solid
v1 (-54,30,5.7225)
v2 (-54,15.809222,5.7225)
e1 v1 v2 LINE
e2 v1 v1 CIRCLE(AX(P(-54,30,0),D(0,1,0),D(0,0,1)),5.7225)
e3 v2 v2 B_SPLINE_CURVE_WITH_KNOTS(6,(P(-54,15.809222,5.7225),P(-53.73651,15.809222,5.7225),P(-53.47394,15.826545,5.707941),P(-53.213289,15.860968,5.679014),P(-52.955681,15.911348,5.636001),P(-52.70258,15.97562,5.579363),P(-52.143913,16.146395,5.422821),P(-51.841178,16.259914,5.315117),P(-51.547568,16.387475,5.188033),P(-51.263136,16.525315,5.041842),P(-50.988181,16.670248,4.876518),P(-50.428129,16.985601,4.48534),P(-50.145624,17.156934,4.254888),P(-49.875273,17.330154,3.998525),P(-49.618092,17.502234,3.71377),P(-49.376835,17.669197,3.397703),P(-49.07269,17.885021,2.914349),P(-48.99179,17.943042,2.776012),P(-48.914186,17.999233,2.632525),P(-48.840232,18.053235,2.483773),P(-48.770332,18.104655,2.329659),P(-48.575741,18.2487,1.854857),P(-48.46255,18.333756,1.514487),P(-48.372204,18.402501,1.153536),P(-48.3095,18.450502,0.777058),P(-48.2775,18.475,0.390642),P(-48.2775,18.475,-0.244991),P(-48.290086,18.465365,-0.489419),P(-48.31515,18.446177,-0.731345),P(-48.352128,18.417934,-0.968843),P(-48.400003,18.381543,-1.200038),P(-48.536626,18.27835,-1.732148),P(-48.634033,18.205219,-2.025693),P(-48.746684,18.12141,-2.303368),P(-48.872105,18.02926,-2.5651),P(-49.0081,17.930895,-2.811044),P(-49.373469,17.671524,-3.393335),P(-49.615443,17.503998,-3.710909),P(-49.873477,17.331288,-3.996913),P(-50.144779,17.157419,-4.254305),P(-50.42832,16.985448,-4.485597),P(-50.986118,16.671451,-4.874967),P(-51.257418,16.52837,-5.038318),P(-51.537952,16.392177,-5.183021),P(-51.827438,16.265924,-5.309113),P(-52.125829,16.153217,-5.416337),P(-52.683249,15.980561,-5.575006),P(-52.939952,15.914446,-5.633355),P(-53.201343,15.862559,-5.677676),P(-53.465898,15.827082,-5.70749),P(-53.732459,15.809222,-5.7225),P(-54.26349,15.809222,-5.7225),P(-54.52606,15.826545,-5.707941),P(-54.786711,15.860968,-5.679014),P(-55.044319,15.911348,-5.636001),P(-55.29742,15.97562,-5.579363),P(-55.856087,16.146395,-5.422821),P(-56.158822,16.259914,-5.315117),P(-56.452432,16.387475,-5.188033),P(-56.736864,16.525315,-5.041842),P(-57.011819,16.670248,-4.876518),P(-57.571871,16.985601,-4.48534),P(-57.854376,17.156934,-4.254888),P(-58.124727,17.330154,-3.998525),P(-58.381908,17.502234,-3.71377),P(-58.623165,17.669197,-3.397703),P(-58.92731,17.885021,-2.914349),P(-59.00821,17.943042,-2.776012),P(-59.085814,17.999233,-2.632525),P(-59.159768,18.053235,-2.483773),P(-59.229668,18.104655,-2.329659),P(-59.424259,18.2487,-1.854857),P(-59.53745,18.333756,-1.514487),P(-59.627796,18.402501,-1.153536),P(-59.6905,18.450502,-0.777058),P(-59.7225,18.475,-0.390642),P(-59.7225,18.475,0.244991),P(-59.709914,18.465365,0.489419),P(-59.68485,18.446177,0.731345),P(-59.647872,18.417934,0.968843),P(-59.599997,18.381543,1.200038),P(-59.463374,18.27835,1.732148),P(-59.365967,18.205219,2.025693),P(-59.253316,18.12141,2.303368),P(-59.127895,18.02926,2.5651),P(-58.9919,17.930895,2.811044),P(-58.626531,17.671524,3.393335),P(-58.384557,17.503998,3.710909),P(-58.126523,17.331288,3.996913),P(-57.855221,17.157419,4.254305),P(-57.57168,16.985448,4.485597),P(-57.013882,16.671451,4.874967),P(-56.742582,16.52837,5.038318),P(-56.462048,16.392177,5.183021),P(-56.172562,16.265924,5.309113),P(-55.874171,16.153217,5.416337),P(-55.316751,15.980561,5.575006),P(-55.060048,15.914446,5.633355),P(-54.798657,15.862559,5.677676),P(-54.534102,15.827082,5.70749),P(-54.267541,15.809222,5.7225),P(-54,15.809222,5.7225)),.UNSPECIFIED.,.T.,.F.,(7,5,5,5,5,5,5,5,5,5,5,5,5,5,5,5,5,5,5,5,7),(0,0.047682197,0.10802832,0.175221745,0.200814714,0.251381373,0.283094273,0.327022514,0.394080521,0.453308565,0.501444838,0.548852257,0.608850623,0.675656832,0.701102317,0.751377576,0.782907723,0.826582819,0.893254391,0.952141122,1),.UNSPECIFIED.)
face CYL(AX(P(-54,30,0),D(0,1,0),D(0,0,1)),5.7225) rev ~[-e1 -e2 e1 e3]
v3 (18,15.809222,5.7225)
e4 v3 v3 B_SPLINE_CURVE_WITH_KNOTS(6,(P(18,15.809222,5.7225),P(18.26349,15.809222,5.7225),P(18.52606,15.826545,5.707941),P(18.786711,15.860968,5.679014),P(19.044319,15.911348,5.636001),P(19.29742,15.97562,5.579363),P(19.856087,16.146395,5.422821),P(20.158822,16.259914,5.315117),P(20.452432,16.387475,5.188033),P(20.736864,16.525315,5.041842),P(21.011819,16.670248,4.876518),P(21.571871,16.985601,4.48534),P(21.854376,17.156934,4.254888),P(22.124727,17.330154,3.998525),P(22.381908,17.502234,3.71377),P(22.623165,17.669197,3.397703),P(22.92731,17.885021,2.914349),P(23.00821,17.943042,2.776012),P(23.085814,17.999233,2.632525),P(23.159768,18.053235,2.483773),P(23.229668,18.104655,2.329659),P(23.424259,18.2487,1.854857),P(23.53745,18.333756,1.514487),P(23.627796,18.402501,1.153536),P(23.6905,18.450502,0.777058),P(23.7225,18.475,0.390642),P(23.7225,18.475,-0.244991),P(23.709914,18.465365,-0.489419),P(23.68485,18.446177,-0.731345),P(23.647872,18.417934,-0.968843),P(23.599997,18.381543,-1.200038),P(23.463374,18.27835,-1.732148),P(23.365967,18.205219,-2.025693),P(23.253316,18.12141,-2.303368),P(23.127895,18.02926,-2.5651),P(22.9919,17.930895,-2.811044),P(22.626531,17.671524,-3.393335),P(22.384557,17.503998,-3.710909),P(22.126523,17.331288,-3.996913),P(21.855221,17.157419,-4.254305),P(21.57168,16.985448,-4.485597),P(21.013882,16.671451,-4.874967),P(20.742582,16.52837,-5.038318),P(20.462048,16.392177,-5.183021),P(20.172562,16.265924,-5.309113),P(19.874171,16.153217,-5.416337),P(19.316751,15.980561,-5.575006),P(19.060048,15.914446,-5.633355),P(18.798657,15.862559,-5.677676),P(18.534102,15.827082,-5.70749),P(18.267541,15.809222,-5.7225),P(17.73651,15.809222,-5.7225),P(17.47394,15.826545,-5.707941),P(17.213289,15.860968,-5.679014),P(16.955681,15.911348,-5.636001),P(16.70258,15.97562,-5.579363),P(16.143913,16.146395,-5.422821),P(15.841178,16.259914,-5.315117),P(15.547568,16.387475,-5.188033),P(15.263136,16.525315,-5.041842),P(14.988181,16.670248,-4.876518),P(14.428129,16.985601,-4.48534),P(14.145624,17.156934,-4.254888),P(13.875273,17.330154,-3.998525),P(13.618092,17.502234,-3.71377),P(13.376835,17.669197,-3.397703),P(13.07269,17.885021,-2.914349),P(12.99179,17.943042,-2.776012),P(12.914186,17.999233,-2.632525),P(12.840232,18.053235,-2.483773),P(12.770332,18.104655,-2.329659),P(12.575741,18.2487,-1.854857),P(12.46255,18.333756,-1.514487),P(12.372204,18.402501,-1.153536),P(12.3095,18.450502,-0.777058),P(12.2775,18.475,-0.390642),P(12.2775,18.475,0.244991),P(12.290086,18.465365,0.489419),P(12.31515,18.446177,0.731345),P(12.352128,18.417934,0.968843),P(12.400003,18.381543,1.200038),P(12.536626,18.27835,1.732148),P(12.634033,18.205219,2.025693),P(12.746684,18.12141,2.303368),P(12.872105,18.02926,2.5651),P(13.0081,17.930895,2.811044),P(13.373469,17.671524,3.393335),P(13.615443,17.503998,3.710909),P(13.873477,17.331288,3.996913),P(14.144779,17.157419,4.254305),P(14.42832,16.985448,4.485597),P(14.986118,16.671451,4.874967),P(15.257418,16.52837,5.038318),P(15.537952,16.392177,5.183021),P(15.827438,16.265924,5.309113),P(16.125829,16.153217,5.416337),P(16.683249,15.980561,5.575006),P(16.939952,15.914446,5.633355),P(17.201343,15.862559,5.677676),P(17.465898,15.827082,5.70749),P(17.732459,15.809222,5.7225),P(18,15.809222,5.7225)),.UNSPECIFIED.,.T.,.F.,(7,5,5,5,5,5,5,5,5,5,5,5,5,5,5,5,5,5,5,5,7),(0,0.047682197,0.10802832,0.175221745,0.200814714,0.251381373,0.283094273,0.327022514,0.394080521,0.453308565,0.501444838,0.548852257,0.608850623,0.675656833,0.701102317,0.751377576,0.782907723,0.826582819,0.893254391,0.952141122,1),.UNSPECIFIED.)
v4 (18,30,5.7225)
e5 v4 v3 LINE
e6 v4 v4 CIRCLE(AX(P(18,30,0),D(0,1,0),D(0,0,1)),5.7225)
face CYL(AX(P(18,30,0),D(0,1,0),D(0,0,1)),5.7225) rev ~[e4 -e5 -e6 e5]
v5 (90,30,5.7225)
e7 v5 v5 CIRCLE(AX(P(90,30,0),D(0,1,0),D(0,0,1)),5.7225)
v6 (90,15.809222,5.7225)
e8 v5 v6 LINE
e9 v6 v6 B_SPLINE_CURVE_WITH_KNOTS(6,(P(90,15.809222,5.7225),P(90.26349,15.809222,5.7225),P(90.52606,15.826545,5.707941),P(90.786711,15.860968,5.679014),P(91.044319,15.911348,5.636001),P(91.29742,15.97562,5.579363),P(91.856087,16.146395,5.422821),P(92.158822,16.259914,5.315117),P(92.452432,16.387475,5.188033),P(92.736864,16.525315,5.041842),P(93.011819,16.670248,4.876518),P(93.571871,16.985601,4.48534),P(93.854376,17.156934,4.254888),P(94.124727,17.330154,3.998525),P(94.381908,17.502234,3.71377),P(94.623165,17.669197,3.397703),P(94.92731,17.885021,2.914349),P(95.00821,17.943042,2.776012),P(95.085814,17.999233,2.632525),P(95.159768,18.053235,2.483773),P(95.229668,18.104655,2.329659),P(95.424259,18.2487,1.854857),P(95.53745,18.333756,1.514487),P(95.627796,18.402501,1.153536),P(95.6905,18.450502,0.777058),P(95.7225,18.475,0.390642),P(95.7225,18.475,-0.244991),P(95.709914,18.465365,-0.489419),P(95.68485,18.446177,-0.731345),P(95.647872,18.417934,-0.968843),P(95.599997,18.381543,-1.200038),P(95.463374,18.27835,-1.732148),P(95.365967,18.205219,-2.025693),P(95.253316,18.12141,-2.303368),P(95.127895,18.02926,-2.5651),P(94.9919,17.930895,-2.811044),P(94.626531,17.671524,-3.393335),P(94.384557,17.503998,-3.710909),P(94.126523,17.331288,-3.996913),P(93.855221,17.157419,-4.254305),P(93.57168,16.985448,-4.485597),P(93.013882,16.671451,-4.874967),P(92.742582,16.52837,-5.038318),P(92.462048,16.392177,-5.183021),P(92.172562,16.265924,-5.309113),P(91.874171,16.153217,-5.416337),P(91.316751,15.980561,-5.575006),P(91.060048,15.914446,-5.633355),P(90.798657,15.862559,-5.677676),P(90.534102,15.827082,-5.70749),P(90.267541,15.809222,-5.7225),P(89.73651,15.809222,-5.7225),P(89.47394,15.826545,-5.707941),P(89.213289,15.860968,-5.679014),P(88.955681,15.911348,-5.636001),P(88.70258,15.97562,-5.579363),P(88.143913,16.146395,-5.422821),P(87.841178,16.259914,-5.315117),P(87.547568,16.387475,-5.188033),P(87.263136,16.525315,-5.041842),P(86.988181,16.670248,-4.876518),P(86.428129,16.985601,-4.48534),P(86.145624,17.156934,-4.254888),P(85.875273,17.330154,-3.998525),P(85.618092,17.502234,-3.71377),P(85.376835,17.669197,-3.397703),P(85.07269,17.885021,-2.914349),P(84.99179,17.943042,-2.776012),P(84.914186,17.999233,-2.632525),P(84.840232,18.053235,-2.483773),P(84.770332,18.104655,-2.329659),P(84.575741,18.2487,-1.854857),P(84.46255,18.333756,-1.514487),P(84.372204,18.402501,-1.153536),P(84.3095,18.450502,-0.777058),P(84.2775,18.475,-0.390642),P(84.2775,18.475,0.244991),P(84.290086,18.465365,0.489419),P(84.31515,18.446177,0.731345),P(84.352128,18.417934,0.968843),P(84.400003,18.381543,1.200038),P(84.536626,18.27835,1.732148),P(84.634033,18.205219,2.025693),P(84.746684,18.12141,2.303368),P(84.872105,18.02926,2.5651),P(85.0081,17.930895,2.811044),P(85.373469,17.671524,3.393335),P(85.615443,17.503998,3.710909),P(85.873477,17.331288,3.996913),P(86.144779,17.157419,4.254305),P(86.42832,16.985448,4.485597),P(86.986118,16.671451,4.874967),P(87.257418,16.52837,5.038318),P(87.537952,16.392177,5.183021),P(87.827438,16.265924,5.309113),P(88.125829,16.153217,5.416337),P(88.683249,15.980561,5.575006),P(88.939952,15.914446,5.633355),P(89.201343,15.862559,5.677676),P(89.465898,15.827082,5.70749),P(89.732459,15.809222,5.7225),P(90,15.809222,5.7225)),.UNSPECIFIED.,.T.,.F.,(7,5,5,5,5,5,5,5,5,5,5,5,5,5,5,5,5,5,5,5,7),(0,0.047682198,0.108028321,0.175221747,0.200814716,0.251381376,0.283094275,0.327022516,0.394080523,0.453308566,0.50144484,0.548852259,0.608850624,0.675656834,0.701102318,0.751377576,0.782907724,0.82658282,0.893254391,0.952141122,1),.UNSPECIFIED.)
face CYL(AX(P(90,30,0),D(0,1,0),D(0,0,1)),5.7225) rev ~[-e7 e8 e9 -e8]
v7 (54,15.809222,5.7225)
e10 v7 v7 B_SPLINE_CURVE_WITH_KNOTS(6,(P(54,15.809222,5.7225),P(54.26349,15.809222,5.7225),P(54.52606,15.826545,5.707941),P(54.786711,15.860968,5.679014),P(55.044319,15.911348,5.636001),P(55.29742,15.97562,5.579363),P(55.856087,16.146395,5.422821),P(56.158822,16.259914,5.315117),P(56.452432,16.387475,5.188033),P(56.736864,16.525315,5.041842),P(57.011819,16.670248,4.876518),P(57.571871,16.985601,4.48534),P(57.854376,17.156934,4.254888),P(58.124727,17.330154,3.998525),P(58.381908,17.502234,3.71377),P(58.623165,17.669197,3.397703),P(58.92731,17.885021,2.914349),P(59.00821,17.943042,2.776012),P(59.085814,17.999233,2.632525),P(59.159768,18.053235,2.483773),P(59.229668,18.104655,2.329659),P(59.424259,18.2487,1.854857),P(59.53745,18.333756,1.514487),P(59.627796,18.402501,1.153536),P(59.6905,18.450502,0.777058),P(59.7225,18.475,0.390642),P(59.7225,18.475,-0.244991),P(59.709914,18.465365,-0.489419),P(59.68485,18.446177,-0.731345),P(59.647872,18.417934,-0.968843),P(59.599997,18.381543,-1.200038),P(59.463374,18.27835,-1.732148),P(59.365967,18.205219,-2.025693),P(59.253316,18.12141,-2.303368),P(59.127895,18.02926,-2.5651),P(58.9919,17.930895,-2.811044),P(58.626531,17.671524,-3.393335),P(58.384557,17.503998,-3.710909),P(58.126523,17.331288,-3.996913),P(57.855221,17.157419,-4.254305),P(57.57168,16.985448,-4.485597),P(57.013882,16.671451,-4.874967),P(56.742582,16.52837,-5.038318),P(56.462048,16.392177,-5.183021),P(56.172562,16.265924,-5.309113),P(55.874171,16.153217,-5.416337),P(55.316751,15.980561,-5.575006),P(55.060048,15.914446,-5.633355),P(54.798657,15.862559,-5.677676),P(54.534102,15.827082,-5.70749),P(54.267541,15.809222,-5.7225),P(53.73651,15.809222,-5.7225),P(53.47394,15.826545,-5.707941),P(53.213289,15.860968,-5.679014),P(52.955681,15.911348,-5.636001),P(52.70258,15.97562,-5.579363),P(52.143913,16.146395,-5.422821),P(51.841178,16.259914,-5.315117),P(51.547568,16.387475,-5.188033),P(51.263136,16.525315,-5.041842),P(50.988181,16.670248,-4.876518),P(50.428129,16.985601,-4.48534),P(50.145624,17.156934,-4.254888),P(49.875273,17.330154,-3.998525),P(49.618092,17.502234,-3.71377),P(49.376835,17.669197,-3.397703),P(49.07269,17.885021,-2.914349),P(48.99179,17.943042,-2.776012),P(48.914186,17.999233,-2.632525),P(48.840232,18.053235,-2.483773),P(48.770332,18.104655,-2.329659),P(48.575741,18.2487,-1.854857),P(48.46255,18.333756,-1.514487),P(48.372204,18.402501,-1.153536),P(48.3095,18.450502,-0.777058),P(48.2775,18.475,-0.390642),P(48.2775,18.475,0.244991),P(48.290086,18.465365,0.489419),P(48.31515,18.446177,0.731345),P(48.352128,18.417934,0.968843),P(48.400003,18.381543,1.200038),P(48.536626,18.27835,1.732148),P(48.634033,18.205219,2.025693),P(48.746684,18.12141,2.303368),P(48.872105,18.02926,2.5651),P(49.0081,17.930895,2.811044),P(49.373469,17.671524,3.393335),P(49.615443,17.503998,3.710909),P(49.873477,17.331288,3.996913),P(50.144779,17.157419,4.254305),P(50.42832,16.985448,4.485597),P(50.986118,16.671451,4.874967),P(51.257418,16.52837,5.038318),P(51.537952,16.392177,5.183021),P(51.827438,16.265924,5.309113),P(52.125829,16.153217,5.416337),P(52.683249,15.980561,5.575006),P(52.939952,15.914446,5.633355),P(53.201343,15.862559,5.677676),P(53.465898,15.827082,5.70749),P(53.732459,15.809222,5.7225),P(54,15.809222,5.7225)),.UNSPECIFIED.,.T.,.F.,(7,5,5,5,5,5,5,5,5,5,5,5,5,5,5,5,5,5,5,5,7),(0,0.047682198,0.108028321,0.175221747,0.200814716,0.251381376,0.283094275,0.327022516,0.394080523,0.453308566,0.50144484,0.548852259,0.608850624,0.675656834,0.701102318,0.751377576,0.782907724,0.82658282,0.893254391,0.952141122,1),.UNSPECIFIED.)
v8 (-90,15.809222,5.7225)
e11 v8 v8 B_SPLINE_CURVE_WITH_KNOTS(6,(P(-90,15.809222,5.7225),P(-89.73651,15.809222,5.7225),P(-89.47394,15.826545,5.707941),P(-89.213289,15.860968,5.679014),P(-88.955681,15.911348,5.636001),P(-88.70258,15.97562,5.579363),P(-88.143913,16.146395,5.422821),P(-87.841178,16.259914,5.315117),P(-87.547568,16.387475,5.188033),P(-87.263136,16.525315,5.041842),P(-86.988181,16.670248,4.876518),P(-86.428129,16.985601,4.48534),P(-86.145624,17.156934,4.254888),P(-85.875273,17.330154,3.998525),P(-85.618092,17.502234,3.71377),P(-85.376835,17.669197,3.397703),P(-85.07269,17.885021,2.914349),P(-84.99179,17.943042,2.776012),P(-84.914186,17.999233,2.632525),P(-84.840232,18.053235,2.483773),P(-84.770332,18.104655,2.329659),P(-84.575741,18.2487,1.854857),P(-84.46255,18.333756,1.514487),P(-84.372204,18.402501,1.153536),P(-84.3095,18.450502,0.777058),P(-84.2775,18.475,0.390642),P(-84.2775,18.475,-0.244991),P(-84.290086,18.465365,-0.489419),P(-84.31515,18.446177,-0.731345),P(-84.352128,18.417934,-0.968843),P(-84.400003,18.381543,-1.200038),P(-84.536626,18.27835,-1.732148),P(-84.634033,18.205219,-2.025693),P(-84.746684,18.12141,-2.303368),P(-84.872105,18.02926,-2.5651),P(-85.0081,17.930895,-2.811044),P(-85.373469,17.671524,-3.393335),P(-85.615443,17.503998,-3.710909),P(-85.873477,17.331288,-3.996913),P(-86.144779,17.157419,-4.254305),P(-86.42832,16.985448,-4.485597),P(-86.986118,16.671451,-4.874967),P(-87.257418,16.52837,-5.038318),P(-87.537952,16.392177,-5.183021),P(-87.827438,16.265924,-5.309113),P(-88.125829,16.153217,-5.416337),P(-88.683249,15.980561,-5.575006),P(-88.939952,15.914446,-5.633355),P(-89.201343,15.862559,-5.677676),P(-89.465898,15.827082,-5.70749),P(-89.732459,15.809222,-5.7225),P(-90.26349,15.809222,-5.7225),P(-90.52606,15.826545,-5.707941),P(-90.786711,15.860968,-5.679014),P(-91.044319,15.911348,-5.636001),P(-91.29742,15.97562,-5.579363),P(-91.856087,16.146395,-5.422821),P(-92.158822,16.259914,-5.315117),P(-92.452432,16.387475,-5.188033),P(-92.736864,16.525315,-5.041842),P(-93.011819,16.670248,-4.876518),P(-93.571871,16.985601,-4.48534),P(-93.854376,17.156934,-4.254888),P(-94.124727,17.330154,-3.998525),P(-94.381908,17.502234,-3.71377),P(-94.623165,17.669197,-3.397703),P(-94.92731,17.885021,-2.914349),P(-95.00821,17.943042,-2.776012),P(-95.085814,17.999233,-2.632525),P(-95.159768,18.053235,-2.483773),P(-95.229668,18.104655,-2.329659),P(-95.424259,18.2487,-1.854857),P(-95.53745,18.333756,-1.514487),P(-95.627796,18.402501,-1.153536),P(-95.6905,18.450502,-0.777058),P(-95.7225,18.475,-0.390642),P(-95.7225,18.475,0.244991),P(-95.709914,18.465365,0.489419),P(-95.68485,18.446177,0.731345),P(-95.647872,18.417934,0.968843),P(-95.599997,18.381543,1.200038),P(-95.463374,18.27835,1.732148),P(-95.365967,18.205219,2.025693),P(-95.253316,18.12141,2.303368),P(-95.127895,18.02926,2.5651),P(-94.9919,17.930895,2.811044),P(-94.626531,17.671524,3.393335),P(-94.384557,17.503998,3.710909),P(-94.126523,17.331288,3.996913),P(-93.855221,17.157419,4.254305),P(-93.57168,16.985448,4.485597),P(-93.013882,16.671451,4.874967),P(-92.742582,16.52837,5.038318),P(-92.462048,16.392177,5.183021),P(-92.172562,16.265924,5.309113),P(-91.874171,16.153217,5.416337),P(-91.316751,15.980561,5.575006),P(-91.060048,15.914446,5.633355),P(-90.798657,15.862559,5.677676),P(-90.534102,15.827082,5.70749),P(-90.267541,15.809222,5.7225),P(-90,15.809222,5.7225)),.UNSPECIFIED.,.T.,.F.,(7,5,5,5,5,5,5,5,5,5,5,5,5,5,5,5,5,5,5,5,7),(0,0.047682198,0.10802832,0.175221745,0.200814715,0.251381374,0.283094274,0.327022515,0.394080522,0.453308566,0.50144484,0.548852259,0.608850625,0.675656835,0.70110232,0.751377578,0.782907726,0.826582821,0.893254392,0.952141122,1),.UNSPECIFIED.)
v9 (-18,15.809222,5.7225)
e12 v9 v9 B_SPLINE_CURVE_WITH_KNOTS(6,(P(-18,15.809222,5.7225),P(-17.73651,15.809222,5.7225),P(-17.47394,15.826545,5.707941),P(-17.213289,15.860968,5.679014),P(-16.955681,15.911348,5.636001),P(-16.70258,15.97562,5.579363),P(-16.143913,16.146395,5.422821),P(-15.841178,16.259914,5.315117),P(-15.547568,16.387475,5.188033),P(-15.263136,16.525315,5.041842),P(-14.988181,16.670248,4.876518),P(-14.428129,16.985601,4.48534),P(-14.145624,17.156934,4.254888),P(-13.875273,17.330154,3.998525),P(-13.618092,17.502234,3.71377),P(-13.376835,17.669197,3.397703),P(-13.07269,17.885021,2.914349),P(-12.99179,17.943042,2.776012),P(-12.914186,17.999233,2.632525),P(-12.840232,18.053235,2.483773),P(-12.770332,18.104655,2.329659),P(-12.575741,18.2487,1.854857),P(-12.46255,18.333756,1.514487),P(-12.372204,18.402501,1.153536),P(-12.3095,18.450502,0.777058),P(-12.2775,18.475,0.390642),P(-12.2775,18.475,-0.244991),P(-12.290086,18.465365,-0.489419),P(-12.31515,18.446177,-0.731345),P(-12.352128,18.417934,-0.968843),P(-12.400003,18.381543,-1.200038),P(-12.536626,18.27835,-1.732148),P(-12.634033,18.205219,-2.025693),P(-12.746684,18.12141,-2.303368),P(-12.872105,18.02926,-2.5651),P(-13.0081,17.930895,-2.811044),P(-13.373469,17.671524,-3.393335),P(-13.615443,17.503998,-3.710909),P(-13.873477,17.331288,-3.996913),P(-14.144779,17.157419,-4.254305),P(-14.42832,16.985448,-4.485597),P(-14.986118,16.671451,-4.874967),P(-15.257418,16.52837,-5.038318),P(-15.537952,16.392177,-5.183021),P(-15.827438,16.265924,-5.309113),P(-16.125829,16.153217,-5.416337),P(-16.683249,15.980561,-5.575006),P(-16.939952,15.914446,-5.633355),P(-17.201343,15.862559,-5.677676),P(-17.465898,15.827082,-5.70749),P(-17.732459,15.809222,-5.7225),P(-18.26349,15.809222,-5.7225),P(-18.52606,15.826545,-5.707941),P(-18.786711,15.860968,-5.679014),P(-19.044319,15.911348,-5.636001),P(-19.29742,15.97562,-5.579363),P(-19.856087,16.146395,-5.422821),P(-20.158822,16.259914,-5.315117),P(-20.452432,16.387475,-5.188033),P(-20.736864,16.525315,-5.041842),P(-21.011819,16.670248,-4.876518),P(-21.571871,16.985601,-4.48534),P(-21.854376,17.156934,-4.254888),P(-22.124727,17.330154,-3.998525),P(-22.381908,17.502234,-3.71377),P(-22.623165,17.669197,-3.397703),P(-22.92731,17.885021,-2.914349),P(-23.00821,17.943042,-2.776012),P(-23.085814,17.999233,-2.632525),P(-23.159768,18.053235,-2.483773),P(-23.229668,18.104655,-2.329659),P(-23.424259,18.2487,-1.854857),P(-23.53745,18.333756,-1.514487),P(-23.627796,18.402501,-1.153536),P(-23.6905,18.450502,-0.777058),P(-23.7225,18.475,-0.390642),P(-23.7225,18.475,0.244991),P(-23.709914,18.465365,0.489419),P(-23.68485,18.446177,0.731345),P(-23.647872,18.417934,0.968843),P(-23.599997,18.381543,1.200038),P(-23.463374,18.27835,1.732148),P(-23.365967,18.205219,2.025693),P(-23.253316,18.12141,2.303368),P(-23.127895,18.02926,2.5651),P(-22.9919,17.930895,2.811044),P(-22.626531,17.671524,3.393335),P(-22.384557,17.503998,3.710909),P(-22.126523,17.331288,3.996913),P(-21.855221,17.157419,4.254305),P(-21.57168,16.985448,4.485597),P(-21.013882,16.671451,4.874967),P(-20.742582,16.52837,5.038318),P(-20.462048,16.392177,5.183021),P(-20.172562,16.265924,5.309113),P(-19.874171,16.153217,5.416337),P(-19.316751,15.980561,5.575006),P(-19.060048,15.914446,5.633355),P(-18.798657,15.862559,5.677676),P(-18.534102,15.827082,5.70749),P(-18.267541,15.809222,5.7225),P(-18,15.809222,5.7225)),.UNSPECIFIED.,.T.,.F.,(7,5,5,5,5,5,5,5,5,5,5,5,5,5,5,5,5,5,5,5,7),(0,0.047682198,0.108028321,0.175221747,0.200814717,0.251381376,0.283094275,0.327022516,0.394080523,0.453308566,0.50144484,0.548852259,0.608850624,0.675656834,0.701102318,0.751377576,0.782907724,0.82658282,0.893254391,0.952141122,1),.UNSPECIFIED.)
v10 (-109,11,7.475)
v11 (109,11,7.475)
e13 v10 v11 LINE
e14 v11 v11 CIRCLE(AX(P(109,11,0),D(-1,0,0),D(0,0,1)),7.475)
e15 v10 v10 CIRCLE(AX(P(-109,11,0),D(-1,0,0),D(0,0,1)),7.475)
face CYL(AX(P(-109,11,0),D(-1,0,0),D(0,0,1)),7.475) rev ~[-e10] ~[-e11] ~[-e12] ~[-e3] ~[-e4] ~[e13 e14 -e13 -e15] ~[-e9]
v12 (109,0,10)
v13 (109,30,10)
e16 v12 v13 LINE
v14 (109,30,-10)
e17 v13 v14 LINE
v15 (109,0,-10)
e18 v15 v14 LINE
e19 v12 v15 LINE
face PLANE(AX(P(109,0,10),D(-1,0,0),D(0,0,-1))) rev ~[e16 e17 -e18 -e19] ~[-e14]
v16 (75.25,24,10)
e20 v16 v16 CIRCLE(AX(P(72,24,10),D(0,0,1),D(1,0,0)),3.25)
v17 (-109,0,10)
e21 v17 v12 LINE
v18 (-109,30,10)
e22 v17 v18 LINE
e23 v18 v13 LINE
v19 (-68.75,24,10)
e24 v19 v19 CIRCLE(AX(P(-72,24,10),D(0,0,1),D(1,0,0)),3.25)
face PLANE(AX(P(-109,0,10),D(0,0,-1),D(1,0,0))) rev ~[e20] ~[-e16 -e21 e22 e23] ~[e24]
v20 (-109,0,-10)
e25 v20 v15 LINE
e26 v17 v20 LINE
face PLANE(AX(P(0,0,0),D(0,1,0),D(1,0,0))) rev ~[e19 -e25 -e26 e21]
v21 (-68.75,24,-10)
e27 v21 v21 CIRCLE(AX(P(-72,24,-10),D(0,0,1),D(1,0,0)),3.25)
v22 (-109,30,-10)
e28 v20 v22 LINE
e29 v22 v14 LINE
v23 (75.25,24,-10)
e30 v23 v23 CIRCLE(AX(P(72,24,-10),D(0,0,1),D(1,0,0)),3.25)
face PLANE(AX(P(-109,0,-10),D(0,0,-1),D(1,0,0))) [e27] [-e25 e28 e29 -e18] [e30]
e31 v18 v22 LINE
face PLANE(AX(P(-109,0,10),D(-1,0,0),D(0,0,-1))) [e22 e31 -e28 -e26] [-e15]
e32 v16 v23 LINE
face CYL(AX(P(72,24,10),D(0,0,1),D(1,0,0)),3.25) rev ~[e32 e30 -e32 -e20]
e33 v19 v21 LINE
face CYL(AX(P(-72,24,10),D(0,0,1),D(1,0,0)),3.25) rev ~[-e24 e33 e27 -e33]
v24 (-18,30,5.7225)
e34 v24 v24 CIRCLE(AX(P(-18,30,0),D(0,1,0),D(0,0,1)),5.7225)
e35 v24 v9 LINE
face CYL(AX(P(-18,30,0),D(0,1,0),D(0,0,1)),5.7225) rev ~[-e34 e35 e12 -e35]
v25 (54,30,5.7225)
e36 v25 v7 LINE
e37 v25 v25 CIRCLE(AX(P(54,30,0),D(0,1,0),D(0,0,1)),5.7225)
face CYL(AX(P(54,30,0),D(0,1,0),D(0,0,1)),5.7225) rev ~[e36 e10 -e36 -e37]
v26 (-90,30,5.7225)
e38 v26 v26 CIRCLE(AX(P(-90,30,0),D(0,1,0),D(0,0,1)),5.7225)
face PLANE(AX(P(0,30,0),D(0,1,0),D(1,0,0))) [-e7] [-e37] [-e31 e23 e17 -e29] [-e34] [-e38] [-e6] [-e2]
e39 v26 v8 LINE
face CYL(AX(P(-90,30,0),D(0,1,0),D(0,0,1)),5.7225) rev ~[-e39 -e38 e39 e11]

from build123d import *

# Parameters (mm, degrees)
SKETCH1_W           = 218
SKETCH1_H           = 20
BOSS_EXTRUDE1_DEPTH = 30
SKETCH2_R           = 3.25
CUT_EXTRUDE1_DEPTH  = 30
SKETCH3_R           = 7.475
CUT_EXTRUDE2_DEPTH  = 221.281637909
SKETCH4_R           = 5.7225
CUT_EXTRUDE3_DEPTH  = 15


with BuildPart() as part:
    # Sketch1 → Boss-Extrude1 (new body)
    with BuildSketch(Plane(origin=(0, 0, 0), x_dir=(1, 0, 0), z_dir=(0, 1, 0))):
        Rectangle(SKETCH1_W, SKETCH1_H)
    extrude(amount=BOSS_EXTRUDE1_DEPTH)

    # Sketch2 → Cut-Extrude1 (cut)
    with BuildSketch(Plane.XY.offset(10)):
        with Locations((-72, 24)):
            Circle(SKETCH2_R)
        with Locations((72, 24)):
            Circle(SKETCH2_R)
    extrude(amount=-CUT_EXTRUDE1_DEPTH, mode=Mode.SUBTRACT)

    # Sketch3 → Cut-Extrude2 (cut, through all)
    with BuildSketch(Plane.ZY.offset(109)):
        with Locations((0, 11)):
            Circle(SKETCH3_R)
    extrude(amount=-CUT_EXTRUDE2_DEPTH, mode=Mode.SUBTRACT)

    # Sketch4 → Cut-Extrude3 (cut)
    with BuildSketch(Plane(origin=(0, 30, 0), x_dir=(1, 0, 0), z_dir=(0, 1, 0))):
        with Locations(Location((-90, 0, 0), (0, 0, 270))):
            Circle(SKETCH4_R)
        with Locations(Location((-54, 0, 0), (0, 0, 270))):
            Circle(SKETCH4_R)
        with Locations(Location((-18, 0, 0), (0, 0, 270))):
            Circle(SKETCH4_R)
        with Locations(Location((90, 0, 0), (0, 0, 270))):
            Circle(SKETCH4_R)
        with Locations(Location((18, 0, 0), (0, 0, 270))):
            Circle(SKETCH4_R)
        with Locations(Location((54, 0, 0), (0, 0, 270))):
            Circle(SKETCH4_R)
    extrude(amount=-CUT_EXTRUDE3_DEPTH, mode=Mode.SUBTRACT)


solid = part.part
